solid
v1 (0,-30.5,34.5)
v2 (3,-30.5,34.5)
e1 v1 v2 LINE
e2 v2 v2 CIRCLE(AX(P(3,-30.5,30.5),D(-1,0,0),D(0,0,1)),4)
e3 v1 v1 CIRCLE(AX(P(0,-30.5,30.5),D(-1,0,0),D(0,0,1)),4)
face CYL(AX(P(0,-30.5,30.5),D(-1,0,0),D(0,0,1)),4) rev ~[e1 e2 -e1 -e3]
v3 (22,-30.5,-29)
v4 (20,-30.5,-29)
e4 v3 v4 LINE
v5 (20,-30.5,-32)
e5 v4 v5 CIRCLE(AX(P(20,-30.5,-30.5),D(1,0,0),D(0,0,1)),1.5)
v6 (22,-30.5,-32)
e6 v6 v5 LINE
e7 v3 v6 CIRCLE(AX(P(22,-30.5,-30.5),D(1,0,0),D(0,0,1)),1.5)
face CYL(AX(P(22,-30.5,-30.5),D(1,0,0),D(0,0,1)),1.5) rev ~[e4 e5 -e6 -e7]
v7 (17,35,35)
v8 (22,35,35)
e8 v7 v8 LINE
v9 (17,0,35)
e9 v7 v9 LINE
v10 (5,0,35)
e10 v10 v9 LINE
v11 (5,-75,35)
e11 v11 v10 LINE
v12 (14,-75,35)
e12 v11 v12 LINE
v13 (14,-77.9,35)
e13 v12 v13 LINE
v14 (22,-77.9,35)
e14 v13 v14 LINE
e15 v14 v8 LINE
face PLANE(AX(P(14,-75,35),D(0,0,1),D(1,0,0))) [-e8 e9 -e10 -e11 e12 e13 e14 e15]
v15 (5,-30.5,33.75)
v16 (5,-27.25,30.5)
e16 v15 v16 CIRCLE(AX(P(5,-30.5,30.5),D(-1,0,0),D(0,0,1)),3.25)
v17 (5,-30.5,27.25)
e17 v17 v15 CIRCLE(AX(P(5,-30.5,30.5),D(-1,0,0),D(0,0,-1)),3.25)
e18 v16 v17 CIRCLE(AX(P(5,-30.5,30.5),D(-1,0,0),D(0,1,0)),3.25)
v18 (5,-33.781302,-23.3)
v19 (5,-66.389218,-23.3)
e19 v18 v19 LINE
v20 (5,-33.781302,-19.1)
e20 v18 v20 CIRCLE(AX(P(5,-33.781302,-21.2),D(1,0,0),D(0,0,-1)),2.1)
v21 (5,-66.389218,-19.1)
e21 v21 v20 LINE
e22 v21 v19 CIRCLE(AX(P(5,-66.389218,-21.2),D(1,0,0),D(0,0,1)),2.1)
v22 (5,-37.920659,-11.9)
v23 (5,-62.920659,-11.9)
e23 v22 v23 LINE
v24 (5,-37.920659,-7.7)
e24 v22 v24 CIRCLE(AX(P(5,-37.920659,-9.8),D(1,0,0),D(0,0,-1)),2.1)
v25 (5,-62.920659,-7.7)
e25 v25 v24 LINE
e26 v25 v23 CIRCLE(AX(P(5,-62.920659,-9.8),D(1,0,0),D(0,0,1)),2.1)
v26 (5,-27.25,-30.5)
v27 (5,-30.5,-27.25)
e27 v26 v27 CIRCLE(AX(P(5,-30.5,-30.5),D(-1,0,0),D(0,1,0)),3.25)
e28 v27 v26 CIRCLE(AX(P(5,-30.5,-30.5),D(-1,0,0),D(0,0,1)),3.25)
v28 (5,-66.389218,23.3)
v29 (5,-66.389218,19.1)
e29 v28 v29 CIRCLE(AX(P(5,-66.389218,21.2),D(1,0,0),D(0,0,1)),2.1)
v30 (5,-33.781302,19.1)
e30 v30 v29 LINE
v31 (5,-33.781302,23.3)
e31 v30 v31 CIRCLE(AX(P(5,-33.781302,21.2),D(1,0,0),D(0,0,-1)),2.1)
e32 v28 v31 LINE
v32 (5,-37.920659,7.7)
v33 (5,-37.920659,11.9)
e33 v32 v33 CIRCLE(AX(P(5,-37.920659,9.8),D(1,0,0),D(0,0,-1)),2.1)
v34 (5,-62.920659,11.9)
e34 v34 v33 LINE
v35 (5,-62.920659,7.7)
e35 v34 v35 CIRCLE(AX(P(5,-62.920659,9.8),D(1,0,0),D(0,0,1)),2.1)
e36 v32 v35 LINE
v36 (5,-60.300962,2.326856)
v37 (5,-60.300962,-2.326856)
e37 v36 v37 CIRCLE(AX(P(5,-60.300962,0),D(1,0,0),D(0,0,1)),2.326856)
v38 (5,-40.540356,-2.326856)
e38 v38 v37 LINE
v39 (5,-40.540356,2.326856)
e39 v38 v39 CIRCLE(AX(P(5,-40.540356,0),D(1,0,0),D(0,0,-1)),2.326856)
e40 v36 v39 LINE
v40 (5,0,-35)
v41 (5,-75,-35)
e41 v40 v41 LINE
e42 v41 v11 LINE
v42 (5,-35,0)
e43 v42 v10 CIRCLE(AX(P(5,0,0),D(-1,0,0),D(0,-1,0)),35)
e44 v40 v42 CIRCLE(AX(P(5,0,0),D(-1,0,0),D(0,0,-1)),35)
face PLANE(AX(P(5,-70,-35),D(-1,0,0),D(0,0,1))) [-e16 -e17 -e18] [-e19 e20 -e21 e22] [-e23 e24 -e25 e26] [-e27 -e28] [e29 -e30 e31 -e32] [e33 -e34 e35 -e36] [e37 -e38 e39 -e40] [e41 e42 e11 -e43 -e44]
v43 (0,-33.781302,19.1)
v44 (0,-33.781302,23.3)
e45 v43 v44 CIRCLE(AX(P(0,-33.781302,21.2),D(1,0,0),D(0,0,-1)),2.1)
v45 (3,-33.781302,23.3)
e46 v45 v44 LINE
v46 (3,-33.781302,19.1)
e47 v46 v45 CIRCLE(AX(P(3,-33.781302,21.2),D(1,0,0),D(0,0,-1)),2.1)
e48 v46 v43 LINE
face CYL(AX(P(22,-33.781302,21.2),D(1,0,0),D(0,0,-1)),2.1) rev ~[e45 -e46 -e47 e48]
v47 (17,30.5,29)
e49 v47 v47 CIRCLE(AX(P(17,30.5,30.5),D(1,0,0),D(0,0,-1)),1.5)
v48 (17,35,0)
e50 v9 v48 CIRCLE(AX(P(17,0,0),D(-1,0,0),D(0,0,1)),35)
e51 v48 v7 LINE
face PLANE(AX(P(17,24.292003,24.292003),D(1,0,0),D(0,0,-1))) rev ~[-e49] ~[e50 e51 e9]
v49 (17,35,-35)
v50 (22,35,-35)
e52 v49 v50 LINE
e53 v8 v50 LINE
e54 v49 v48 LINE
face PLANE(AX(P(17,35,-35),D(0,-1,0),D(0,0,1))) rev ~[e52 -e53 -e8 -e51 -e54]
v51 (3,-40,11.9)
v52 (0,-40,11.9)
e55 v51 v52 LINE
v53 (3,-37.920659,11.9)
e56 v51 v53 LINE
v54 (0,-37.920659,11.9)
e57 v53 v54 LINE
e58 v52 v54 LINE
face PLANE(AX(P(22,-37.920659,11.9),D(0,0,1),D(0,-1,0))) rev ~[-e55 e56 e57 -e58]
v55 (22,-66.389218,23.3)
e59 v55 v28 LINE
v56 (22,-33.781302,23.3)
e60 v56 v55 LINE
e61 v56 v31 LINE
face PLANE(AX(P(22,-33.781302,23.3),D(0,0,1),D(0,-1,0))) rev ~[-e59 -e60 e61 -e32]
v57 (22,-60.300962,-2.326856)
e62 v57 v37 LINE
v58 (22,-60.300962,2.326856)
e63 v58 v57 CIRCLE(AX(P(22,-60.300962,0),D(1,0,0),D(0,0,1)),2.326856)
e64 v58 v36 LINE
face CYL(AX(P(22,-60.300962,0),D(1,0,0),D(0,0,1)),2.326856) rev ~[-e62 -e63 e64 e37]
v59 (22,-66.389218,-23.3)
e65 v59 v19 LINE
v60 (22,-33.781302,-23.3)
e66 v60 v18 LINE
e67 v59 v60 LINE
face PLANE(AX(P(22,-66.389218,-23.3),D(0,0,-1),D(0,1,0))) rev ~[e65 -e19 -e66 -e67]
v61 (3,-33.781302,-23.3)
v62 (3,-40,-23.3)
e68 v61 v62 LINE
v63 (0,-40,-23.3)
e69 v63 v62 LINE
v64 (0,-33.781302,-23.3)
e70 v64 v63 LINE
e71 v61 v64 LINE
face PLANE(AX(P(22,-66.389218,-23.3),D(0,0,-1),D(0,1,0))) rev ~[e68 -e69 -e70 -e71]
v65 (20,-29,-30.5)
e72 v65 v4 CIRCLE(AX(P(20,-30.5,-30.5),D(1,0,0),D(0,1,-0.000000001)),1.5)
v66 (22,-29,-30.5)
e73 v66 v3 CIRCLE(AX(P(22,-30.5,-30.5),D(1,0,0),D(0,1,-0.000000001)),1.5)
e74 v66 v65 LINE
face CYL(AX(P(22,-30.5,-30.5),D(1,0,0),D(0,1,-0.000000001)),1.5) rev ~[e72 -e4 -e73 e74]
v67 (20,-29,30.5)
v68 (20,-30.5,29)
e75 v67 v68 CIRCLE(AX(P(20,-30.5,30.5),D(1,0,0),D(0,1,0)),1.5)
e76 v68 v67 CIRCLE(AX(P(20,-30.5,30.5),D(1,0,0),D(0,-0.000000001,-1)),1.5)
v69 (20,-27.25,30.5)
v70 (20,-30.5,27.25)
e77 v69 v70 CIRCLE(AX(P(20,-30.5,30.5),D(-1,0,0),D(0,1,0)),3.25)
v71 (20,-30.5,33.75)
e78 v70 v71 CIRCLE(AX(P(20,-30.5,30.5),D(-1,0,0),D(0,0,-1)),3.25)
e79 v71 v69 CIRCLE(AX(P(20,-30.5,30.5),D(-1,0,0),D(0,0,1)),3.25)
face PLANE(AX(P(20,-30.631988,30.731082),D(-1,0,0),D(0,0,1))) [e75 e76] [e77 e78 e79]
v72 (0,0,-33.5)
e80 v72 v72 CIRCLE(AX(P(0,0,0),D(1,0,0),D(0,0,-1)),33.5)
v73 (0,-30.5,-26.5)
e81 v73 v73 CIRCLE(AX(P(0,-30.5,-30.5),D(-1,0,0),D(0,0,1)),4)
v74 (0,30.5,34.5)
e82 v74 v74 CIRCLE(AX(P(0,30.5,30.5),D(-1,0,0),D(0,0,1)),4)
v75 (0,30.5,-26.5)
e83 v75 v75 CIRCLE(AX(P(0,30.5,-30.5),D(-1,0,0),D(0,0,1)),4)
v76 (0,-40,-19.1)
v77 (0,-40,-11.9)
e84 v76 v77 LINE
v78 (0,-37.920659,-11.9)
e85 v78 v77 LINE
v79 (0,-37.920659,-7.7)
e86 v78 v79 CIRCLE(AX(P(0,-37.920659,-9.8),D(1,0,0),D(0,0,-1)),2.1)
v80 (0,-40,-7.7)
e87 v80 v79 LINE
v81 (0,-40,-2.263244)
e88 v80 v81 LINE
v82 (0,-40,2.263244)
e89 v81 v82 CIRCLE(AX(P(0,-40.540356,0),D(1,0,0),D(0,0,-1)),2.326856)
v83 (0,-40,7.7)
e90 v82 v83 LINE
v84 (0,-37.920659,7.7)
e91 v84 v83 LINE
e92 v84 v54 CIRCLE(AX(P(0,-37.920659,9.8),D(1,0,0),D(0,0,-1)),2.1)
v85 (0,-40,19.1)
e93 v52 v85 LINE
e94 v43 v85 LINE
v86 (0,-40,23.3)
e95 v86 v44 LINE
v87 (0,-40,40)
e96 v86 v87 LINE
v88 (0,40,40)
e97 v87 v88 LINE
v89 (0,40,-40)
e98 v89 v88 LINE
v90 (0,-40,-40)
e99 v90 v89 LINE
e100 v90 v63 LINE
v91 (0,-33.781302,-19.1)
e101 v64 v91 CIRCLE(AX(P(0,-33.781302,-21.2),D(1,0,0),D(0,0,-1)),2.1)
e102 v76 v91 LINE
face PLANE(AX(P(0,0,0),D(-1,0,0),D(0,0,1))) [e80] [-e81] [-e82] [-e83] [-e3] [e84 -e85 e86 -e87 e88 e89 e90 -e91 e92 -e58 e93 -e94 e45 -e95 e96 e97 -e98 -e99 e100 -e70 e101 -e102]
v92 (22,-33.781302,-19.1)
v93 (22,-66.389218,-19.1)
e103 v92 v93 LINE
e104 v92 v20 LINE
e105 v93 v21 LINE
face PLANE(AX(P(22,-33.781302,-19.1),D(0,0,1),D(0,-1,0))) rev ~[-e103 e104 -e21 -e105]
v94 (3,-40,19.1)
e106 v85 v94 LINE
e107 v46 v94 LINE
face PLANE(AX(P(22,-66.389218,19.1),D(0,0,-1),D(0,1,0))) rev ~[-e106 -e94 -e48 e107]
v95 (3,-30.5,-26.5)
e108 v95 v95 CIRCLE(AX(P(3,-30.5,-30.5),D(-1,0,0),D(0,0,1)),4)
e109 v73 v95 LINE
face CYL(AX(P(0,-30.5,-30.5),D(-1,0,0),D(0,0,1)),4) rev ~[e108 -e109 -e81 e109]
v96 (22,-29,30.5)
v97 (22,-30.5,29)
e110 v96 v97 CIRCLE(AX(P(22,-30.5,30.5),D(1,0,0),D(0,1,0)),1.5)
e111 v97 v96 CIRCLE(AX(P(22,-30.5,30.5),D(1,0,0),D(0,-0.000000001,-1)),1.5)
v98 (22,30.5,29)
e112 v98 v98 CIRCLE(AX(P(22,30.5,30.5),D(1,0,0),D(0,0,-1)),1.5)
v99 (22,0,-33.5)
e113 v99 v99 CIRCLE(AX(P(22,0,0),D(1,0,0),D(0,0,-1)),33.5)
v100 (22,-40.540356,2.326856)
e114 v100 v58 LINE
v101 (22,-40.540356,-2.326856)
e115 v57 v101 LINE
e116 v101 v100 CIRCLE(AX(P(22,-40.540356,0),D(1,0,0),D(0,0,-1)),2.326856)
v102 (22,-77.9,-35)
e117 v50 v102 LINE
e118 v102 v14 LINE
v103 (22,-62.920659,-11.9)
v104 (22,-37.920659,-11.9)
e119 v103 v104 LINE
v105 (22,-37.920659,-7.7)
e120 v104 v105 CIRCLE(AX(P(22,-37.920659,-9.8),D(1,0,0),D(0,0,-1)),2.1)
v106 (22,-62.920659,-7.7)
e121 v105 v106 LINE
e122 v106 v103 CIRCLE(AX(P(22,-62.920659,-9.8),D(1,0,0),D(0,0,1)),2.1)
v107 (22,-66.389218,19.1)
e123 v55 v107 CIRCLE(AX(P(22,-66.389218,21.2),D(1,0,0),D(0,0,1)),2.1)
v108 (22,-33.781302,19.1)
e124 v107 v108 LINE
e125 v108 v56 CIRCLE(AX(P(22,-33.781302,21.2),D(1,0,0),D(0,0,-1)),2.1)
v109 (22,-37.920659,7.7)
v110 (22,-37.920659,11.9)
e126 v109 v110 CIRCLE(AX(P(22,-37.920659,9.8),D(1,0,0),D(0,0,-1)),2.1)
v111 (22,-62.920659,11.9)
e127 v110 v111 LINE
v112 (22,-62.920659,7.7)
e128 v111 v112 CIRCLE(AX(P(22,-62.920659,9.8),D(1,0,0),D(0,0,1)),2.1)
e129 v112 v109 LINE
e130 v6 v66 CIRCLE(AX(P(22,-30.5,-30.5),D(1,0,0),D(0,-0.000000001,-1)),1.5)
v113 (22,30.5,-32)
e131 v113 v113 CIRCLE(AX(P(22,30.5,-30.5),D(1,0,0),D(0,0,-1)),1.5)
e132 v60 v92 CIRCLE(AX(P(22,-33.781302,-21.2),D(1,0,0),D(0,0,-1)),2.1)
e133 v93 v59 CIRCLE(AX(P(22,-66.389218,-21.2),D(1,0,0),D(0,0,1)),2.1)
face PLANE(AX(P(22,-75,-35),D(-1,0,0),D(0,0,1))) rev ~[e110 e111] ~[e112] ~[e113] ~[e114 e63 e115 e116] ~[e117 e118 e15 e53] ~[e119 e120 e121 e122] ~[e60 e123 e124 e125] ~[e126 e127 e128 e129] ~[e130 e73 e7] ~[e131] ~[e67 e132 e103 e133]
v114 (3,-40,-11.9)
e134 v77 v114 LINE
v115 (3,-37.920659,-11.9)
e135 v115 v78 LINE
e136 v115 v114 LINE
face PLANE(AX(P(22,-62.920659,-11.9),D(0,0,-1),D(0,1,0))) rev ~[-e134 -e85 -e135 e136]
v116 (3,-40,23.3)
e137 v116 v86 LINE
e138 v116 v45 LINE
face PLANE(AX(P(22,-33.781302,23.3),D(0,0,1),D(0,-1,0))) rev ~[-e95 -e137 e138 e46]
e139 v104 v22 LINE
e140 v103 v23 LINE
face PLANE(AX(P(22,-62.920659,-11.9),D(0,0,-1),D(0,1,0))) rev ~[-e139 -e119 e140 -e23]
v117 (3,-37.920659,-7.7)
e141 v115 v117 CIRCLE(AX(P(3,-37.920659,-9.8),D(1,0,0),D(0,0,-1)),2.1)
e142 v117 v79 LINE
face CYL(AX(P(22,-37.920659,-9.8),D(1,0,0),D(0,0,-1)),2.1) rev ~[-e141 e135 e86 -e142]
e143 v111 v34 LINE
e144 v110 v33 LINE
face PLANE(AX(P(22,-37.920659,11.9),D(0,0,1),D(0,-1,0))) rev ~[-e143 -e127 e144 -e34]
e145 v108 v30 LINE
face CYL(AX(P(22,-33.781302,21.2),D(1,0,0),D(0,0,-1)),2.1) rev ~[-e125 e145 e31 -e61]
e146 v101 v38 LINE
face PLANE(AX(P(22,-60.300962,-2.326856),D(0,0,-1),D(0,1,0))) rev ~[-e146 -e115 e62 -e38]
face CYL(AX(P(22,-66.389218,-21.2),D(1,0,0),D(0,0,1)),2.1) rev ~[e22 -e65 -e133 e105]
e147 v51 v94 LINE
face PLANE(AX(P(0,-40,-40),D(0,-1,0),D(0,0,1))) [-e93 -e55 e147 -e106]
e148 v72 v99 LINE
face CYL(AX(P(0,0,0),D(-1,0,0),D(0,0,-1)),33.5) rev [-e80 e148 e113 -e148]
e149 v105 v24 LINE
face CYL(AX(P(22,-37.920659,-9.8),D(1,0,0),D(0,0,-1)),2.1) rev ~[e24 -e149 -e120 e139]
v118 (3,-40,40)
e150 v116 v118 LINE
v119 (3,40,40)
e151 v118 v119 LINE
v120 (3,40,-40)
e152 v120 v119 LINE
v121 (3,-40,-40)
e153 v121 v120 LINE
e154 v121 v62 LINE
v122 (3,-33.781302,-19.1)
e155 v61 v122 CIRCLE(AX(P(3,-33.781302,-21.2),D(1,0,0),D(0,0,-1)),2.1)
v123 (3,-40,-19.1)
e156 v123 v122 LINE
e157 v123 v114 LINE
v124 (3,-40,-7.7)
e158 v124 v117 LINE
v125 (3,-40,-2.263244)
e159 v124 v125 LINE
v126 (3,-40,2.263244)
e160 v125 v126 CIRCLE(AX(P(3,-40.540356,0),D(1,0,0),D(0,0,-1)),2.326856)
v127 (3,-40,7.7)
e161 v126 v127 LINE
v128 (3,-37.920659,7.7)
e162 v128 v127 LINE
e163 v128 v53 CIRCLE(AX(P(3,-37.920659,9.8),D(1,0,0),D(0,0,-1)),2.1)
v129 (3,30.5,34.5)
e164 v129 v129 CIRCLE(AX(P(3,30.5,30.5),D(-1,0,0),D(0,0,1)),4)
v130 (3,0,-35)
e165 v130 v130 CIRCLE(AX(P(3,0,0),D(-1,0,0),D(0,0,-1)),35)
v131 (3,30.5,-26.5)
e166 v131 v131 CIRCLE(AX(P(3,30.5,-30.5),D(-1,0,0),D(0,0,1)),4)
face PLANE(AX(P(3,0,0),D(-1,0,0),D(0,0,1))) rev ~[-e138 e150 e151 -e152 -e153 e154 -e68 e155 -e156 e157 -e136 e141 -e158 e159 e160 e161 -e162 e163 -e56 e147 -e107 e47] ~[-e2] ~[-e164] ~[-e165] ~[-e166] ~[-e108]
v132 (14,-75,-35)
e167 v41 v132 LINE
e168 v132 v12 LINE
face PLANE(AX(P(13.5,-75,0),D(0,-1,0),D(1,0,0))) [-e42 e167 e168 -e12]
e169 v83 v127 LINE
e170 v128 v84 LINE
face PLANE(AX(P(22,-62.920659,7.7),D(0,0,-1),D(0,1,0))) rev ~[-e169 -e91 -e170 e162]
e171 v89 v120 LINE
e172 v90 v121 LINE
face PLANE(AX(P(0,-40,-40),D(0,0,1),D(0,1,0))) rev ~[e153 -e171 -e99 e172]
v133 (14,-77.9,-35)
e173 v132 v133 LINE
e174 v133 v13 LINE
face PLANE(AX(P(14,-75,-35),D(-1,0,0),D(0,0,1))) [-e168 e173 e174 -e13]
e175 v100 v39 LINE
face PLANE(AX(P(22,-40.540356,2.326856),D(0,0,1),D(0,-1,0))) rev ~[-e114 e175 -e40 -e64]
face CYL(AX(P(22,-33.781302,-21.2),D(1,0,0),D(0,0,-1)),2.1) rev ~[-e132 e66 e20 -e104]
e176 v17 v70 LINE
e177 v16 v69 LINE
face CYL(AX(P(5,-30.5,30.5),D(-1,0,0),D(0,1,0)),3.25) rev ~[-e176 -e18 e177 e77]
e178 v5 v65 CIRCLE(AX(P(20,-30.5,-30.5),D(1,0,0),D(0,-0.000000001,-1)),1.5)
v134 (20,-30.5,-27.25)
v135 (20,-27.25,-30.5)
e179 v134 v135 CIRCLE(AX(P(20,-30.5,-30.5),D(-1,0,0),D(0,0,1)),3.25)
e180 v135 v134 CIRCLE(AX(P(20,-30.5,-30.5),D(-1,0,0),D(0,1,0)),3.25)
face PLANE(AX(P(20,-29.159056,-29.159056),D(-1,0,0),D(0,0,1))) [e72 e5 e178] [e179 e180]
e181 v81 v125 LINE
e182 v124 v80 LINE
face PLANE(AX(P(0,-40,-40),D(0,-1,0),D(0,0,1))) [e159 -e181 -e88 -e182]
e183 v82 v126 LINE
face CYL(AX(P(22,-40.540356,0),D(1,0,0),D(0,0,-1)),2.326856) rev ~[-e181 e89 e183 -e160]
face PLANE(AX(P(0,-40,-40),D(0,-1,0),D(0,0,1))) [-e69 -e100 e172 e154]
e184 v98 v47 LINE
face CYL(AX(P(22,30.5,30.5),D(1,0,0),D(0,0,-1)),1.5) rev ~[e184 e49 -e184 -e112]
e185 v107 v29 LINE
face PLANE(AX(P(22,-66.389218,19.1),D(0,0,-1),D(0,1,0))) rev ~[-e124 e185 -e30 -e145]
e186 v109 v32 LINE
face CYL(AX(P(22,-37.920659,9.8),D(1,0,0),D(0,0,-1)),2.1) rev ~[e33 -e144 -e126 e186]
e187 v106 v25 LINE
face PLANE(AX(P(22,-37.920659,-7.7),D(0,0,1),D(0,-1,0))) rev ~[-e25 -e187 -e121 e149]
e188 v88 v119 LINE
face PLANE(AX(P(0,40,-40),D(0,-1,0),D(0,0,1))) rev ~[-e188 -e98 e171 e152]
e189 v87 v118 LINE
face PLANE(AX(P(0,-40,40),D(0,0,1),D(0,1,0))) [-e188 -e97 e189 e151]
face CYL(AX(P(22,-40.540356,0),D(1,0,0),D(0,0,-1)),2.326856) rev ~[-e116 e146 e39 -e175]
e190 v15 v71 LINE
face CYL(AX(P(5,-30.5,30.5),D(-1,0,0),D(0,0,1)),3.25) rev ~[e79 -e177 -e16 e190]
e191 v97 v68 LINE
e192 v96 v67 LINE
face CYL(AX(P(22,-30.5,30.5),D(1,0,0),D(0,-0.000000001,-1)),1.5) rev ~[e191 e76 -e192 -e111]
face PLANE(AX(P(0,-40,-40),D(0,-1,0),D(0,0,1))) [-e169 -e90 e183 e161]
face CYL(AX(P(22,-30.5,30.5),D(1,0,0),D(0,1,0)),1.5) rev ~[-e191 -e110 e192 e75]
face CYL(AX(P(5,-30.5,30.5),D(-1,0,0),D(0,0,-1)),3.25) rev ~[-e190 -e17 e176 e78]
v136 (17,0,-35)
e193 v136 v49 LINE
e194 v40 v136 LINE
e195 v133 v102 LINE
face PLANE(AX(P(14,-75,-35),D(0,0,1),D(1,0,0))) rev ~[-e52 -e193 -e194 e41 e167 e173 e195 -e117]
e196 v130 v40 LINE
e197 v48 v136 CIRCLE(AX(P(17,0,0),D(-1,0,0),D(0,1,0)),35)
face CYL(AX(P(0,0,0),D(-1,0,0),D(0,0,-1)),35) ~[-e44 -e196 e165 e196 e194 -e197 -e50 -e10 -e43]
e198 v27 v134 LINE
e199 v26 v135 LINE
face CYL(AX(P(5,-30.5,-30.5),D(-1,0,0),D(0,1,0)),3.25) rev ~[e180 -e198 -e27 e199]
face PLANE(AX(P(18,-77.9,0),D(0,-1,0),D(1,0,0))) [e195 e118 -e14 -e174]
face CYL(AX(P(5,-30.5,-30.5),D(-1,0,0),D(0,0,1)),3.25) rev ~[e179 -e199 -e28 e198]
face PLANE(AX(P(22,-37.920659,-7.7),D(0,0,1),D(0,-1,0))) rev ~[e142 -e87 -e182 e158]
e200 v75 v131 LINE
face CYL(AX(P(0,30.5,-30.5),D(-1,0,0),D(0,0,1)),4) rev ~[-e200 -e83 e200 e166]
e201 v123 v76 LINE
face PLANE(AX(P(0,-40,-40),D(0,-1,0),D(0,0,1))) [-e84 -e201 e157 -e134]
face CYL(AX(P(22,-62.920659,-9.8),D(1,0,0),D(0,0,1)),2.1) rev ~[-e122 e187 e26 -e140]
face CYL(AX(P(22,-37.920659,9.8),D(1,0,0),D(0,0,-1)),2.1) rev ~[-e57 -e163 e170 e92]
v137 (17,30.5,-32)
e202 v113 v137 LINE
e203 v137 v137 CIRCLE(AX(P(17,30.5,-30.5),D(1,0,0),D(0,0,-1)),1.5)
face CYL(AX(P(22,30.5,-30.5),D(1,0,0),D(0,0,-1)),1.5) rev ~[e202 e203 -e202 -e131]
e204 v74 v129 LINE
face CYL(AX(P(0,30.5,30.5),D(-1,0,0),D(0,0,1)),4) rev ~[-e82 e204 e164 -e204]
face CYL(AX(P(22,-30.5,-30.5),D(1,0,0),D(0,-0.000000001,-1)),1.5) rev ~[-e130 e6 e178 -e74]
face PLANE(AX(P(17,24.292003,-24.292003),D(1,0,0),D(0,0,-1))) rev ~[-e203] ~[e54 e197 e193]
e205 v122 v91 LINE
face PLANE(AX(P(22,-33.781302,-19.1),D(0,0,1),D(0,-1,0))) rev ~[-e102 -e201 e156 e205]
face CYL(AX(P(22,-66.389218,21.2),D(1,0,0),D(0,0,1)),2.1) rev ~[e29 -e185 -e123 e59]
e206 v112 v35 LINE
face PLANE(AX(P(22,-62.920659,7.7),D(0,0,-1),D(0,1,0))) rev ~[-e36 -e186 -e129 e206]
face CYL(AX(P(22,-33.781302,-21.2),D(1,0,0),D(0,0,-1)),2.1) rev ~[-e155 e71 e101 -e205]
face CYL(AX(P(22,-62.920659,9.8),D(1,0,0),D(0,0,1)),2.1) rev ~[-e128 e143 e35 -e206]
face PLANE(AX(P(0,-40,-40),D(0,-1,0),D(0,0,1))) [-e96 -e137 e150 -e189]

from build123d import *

# Parameters (mm, degrees)
SKETCH_1_R          = 35
SKETCH_1_R_2        = 33.5
EXTRUDE_1_DEPTH     = 22
EXTRUDE_START       = -17
EXTRUDE_2_DEPTH     = 17
EXTRUDE_START_2     = -5
EXTRUDE_3_DEPTH     = 5
SKETCH_9_W          = 17
SKETCH_9_H          = 70
EXTRUDE_4_DEPTH     = 5
SKETCH_10_W         = 8
SKETCH_10_H         = 70
EXTRUDE_5_DEPTH     = 2.9
SKETCH_12_W         = 80
SKETCH_12_H         = 80
SKETCH_12_R         = 35
EXTRUDE_7_DEPTH     = 3
SKETCH_3_R          = 1.5
CUT_EXTRUDE_1_DEPTH = 30
CUT_EXTRUDE_3_DEPTH = 15
CUT_EXTRUDE_4_DEPTH = 30
SKETCH_13_R         = 4
CUT_EXTRUDE_5_DEPTH = 3


with BuildPart() as part:
    # 草图1 → 凸台-拉伸1 (new body)
    with BuildSketch(Plane(origin=(0, 0, 0), x_dir=(0, 0, -1), z_dir=(1, 0, 0))):
        Circle(SKETCH_1_R)
        Circle(SKETCH_1_R_2, mode=Mode.SUBTRACT)
    extrude(amount=EXTRUDE_1_DEPTH)

    # 草图2 → 凸台-拉伸2 (add)
    with BuildSketch(Plane(origin=(22, 0, 0), x_dir=(0, 0, -1), z_dir=(1, 0, 0)).offset(EXTRUDE_START)):
        with BuildLine():
            Line((0, -70), (0, -35))
            ThreePointArc((0, -35), (-24.748737342, -24.748737342), (-35, 0))
            Line((-35, 0), (-35, -70))
            Line((-35, -70), (0, -70))
        make_face()
        with BuildLine():
            ThreePointArc((35, 0), (24.748737342, -24.748737342), (0, -35))
            Line((0, -35), (0, -70))
            Line((0, -70), (35, -70))
            Line((35, -70), (35, 0))
        make_face()
    extrude(amount=EXTRUDE_2_DEPTH)

    # 草图4 → 凸台-拉伸3 (add)
    with BuildSketch(Plane(origin=(22, 0, 0), x_dir=(0, 0, -1), z_dir=(1, 0, 0)).offset(EXTRUDE_START_2)):
        with BuildLine():
            Line((35, 35), (0, 35))
            ThreePointArc((0, 35), (24.748737342, 24.748737342), (35, 0))
            Line((35, 0), (35, 35))
        make_face()
        with BuildLine():
            Line((-35, 35), (-35, 0))
            ThreePointArc((-35, 0), (-24.748737342, 24.748737342), (0, 35))
            Line((0, 35), (-35, 35))
        make_face()
    extrude(amount=EXTRUDE_3_DEPTH)

    # 草图9 → 凸台-拉伸4 (add)
    with BuildSketch(Plane.XZ.offset(70)):
        with Locations((13.5, 0)):
            Rectangle(SKETCH_9_W, SKETCH_9_H)
    extrude(amount=EXTRUDE_4_DEPTH)

    # 草图10 → 凸台-拉伸5 (add)
    with BuildSketch(Plane.XZ.offset(75)):
        with Locations((18, 0)):
            Rectangle(SKETCH_10_W, SKETCH_10_H)
    extrude(amount=EXTRUDE_5_DEPTH)

    # 草图12 → 凸台-拉伸7 (add)
    with BuildSketch(Plane.ZY):
        Rectangle(SKETCH_12_W, SKETCH_12_H)
        Circle(SKETCH_12_R, mode=Mode.SUBTRACT)
    extrude(amount=-EXTRUDE_7_DEPTH)

    # 草图3 → 切除-拉伸1 (cut)
    with BuildSketch(Plane(origin=(22, 0, 0), x_dir=(0, 0, -1), z_dir=(1, 0, 0))):
        with BuildLine():
            Line((-30.5, -29), (-30.5, -30.5))
            Line((-30.5, -30.5), (-29, -30.5))
            ThreePointArc((-29, -30.5), (-29.439339828, -29.439339828), (-30.5, -29))
        make_face()
        with BuildLine():
            Line((-29, -30.5), (-30.5, -30.5))
            Line((-30.5, -30.5), (-30.5, -29))
            ThreePointArc((-30.5, -29), (-31.560660172, -31.560660172), (-29, -30.5))
        make_face()
        with BuildLine():
            ThreePointArc((30.5, -29), (29.439339828, -29.439339828), (29, -30.5))
            Line((29, -30.5), (30.5, -30.5))
            Line((30.5, -30.5), (30.5, -29))
        make_face()
        with BuildLine():
            Line((30.5, -30.5), (29, -30.5))
            ThreePointArc((29, -30.5), (30.5, -32), (32, -30.5))
            ThreePointArc((32, -30.5), (31.560660172, -29.439339828), (30.5, -29))
            Line((30.5, -29), (30.5, -30.5))
        make_face()
        with Locations((-30.5, 30.5)):
            Circle(SKETCH_3_R)
        with Locations((30.5, 30.5)):
            Circle(SKETCH_3_R)
    extrude(amount=-CUT_EXTRUDE_1_DEPTH, mode=Mode.SUBTRACT)

    # 草图7 → 切除-拉伸3 (cut)
    with BuildSketch(Plane.ZY.offset(-5)):
        with BuildLine():
            ThreePointArc((-27.25, -30.5), (-28.201902961, -28.201902961), (-30.5, -27.25))
            Line((-30.5, -27.25), (-30.5, -30.5))
            Line((-30.5, -30.5), (-27.25, -30.5))
        make_face()
        with BuildLine():
            Line((-30.5, -30.5), (-30.5, -27.25))
            ThreePointArc((-30.5, -27.25), (-32.798097039, -32.798097039), (-27.25, -30.5))
            Line((-27.25, -30.5), (-30.5, -30.5))
        make_face()
        with BuildLine():
            ThreePointArc((33.75, -30.5), (32.798097039, -28.201902961), (30.5, -27.25))
            Line((30.5, -27.25), (30.5, -30.5))
            Line((30.5, -30.5), (27.25, -30.5))
            ThreePointArc((27.25, -30.5), (30.5, -33.75), (33.75, -30.5))
        make_face()
        with BuildLine():
            Line((30.5, -30.5), (30.5, -27.25))
            ThreePointArc((30.5, -27.25), (28.201902961, -28.201902961), (27.25, -30.5))
            Line((27.25, -30.5), (30.5, -30.5))
        make_face()
    extrude(amount=-CUT_EXTRUDE_3_DEPTH, mode=Mode.SUBTRACT)

    # 草图8 → 切除-拉伸4 (cut)
    with BuildSketch(Plane(origin=(22, 0, 0), x_dir=(0, 0, -1), z_dir=(1, 0, 0))):
        with BuildLine():
            Line((-19.1, -66.389218309), (-19.1, -33.781302014))
            ThreePointArc((-19.1, -33.781302014), (-21.2, -31.681302014), (-23.3, -33.781302014))
            Line((-23.3, -33.781302014), (-23.3, -66.389218309))
            ThreePointArc((-23.3, -66.389218309), (-21.2, -68.489218309), (-19.1, -66.389218309))
        make_face()
        with BuildLine():
            Line((23.3, -66.389218309), (23.3, -33.781302014))
            ThreePointArc((23.3, -33.781302014), (21.2, -31.681302014), (19.1, -33.781302014))
            Line((19.1, -33.781302014), (19.1, -66.389218309))
            ThreePointArc((19.1, -66.389218309), (21.2, -68.489218309), (23.3, -66.389218309))
        make_face()
        with BuildLine():
            Line((-7.7, -62.920659131), (-7.7, -50.420659131))
            Line((-7.7, -50.420659131), (-7.7, -37.920659131))
            ThreePointArc((-7.7, -37.920659131), (-9.8, -35.820659131), (-11.9, -37.920659131))
            Line((-11.9, -37.920659131), (-11.9, -62.920659131))
            ThreePointArc((-11.9, -62.920659131), (-9.8, -65.020659131), (-7.7, -62.920659131))
        make_face()
        with BuildLine():
            Line((2.32685582, -60.300961988), (2.32685582, -40.540356273))
            ThreePointArc((2.32685582, -40.540356273), (0, -38.213500453), (-2.32685582, -40.540356273))
            Line((-2.32685582, -40.540356273), (-2.32685582, -60.300961988))
            ThreePointArc((-2.32685582, -60.300961988), (0, -62.627817808), (2.32685582, -60.300961988))
        make_face()
        with BuildLine():
            Line((11.9, -62.920659131), (11.9, -37.920659131))
            ThreePointArc((11.9, -37.920659131), (9.8, -35.820659131), (7.7, -37.920659131))
            Line((7.7, -37.920659131), (7.7, -50.420659131))
            Line((7.7, -50.420659131), (7.7, -62.920659131))
            ThreePointArc((7.7, -62.920659131), (9.8, -65.020659131), (11.9, -62.920659131))
        make_face()
    extrude(amount=-CUT_EXTRUDE_4_DEPTH, mode=Mode.SUBTRACT)

    # 草图13 → 切除-拉伸5 (cut)
    with BuildSketch(Plane.ZY):
        with Locations((-30.5, -30.5)):
            Circle(SKETCH_13_R)
        with Locations((30.5, -30.5)):
            Circle(SKETCH_13_R)
        with Locations((-30.5, 30.5)):
            Circle(SKETCH_13_R)
        with Locations((30.5, 30.5)):
            Circle(SKETCH_13_R)
    extrude(amount=-CUT_EXTRUDE_5_DEPTH, mode=Mode.SUBTRACT)


solid = part.part
